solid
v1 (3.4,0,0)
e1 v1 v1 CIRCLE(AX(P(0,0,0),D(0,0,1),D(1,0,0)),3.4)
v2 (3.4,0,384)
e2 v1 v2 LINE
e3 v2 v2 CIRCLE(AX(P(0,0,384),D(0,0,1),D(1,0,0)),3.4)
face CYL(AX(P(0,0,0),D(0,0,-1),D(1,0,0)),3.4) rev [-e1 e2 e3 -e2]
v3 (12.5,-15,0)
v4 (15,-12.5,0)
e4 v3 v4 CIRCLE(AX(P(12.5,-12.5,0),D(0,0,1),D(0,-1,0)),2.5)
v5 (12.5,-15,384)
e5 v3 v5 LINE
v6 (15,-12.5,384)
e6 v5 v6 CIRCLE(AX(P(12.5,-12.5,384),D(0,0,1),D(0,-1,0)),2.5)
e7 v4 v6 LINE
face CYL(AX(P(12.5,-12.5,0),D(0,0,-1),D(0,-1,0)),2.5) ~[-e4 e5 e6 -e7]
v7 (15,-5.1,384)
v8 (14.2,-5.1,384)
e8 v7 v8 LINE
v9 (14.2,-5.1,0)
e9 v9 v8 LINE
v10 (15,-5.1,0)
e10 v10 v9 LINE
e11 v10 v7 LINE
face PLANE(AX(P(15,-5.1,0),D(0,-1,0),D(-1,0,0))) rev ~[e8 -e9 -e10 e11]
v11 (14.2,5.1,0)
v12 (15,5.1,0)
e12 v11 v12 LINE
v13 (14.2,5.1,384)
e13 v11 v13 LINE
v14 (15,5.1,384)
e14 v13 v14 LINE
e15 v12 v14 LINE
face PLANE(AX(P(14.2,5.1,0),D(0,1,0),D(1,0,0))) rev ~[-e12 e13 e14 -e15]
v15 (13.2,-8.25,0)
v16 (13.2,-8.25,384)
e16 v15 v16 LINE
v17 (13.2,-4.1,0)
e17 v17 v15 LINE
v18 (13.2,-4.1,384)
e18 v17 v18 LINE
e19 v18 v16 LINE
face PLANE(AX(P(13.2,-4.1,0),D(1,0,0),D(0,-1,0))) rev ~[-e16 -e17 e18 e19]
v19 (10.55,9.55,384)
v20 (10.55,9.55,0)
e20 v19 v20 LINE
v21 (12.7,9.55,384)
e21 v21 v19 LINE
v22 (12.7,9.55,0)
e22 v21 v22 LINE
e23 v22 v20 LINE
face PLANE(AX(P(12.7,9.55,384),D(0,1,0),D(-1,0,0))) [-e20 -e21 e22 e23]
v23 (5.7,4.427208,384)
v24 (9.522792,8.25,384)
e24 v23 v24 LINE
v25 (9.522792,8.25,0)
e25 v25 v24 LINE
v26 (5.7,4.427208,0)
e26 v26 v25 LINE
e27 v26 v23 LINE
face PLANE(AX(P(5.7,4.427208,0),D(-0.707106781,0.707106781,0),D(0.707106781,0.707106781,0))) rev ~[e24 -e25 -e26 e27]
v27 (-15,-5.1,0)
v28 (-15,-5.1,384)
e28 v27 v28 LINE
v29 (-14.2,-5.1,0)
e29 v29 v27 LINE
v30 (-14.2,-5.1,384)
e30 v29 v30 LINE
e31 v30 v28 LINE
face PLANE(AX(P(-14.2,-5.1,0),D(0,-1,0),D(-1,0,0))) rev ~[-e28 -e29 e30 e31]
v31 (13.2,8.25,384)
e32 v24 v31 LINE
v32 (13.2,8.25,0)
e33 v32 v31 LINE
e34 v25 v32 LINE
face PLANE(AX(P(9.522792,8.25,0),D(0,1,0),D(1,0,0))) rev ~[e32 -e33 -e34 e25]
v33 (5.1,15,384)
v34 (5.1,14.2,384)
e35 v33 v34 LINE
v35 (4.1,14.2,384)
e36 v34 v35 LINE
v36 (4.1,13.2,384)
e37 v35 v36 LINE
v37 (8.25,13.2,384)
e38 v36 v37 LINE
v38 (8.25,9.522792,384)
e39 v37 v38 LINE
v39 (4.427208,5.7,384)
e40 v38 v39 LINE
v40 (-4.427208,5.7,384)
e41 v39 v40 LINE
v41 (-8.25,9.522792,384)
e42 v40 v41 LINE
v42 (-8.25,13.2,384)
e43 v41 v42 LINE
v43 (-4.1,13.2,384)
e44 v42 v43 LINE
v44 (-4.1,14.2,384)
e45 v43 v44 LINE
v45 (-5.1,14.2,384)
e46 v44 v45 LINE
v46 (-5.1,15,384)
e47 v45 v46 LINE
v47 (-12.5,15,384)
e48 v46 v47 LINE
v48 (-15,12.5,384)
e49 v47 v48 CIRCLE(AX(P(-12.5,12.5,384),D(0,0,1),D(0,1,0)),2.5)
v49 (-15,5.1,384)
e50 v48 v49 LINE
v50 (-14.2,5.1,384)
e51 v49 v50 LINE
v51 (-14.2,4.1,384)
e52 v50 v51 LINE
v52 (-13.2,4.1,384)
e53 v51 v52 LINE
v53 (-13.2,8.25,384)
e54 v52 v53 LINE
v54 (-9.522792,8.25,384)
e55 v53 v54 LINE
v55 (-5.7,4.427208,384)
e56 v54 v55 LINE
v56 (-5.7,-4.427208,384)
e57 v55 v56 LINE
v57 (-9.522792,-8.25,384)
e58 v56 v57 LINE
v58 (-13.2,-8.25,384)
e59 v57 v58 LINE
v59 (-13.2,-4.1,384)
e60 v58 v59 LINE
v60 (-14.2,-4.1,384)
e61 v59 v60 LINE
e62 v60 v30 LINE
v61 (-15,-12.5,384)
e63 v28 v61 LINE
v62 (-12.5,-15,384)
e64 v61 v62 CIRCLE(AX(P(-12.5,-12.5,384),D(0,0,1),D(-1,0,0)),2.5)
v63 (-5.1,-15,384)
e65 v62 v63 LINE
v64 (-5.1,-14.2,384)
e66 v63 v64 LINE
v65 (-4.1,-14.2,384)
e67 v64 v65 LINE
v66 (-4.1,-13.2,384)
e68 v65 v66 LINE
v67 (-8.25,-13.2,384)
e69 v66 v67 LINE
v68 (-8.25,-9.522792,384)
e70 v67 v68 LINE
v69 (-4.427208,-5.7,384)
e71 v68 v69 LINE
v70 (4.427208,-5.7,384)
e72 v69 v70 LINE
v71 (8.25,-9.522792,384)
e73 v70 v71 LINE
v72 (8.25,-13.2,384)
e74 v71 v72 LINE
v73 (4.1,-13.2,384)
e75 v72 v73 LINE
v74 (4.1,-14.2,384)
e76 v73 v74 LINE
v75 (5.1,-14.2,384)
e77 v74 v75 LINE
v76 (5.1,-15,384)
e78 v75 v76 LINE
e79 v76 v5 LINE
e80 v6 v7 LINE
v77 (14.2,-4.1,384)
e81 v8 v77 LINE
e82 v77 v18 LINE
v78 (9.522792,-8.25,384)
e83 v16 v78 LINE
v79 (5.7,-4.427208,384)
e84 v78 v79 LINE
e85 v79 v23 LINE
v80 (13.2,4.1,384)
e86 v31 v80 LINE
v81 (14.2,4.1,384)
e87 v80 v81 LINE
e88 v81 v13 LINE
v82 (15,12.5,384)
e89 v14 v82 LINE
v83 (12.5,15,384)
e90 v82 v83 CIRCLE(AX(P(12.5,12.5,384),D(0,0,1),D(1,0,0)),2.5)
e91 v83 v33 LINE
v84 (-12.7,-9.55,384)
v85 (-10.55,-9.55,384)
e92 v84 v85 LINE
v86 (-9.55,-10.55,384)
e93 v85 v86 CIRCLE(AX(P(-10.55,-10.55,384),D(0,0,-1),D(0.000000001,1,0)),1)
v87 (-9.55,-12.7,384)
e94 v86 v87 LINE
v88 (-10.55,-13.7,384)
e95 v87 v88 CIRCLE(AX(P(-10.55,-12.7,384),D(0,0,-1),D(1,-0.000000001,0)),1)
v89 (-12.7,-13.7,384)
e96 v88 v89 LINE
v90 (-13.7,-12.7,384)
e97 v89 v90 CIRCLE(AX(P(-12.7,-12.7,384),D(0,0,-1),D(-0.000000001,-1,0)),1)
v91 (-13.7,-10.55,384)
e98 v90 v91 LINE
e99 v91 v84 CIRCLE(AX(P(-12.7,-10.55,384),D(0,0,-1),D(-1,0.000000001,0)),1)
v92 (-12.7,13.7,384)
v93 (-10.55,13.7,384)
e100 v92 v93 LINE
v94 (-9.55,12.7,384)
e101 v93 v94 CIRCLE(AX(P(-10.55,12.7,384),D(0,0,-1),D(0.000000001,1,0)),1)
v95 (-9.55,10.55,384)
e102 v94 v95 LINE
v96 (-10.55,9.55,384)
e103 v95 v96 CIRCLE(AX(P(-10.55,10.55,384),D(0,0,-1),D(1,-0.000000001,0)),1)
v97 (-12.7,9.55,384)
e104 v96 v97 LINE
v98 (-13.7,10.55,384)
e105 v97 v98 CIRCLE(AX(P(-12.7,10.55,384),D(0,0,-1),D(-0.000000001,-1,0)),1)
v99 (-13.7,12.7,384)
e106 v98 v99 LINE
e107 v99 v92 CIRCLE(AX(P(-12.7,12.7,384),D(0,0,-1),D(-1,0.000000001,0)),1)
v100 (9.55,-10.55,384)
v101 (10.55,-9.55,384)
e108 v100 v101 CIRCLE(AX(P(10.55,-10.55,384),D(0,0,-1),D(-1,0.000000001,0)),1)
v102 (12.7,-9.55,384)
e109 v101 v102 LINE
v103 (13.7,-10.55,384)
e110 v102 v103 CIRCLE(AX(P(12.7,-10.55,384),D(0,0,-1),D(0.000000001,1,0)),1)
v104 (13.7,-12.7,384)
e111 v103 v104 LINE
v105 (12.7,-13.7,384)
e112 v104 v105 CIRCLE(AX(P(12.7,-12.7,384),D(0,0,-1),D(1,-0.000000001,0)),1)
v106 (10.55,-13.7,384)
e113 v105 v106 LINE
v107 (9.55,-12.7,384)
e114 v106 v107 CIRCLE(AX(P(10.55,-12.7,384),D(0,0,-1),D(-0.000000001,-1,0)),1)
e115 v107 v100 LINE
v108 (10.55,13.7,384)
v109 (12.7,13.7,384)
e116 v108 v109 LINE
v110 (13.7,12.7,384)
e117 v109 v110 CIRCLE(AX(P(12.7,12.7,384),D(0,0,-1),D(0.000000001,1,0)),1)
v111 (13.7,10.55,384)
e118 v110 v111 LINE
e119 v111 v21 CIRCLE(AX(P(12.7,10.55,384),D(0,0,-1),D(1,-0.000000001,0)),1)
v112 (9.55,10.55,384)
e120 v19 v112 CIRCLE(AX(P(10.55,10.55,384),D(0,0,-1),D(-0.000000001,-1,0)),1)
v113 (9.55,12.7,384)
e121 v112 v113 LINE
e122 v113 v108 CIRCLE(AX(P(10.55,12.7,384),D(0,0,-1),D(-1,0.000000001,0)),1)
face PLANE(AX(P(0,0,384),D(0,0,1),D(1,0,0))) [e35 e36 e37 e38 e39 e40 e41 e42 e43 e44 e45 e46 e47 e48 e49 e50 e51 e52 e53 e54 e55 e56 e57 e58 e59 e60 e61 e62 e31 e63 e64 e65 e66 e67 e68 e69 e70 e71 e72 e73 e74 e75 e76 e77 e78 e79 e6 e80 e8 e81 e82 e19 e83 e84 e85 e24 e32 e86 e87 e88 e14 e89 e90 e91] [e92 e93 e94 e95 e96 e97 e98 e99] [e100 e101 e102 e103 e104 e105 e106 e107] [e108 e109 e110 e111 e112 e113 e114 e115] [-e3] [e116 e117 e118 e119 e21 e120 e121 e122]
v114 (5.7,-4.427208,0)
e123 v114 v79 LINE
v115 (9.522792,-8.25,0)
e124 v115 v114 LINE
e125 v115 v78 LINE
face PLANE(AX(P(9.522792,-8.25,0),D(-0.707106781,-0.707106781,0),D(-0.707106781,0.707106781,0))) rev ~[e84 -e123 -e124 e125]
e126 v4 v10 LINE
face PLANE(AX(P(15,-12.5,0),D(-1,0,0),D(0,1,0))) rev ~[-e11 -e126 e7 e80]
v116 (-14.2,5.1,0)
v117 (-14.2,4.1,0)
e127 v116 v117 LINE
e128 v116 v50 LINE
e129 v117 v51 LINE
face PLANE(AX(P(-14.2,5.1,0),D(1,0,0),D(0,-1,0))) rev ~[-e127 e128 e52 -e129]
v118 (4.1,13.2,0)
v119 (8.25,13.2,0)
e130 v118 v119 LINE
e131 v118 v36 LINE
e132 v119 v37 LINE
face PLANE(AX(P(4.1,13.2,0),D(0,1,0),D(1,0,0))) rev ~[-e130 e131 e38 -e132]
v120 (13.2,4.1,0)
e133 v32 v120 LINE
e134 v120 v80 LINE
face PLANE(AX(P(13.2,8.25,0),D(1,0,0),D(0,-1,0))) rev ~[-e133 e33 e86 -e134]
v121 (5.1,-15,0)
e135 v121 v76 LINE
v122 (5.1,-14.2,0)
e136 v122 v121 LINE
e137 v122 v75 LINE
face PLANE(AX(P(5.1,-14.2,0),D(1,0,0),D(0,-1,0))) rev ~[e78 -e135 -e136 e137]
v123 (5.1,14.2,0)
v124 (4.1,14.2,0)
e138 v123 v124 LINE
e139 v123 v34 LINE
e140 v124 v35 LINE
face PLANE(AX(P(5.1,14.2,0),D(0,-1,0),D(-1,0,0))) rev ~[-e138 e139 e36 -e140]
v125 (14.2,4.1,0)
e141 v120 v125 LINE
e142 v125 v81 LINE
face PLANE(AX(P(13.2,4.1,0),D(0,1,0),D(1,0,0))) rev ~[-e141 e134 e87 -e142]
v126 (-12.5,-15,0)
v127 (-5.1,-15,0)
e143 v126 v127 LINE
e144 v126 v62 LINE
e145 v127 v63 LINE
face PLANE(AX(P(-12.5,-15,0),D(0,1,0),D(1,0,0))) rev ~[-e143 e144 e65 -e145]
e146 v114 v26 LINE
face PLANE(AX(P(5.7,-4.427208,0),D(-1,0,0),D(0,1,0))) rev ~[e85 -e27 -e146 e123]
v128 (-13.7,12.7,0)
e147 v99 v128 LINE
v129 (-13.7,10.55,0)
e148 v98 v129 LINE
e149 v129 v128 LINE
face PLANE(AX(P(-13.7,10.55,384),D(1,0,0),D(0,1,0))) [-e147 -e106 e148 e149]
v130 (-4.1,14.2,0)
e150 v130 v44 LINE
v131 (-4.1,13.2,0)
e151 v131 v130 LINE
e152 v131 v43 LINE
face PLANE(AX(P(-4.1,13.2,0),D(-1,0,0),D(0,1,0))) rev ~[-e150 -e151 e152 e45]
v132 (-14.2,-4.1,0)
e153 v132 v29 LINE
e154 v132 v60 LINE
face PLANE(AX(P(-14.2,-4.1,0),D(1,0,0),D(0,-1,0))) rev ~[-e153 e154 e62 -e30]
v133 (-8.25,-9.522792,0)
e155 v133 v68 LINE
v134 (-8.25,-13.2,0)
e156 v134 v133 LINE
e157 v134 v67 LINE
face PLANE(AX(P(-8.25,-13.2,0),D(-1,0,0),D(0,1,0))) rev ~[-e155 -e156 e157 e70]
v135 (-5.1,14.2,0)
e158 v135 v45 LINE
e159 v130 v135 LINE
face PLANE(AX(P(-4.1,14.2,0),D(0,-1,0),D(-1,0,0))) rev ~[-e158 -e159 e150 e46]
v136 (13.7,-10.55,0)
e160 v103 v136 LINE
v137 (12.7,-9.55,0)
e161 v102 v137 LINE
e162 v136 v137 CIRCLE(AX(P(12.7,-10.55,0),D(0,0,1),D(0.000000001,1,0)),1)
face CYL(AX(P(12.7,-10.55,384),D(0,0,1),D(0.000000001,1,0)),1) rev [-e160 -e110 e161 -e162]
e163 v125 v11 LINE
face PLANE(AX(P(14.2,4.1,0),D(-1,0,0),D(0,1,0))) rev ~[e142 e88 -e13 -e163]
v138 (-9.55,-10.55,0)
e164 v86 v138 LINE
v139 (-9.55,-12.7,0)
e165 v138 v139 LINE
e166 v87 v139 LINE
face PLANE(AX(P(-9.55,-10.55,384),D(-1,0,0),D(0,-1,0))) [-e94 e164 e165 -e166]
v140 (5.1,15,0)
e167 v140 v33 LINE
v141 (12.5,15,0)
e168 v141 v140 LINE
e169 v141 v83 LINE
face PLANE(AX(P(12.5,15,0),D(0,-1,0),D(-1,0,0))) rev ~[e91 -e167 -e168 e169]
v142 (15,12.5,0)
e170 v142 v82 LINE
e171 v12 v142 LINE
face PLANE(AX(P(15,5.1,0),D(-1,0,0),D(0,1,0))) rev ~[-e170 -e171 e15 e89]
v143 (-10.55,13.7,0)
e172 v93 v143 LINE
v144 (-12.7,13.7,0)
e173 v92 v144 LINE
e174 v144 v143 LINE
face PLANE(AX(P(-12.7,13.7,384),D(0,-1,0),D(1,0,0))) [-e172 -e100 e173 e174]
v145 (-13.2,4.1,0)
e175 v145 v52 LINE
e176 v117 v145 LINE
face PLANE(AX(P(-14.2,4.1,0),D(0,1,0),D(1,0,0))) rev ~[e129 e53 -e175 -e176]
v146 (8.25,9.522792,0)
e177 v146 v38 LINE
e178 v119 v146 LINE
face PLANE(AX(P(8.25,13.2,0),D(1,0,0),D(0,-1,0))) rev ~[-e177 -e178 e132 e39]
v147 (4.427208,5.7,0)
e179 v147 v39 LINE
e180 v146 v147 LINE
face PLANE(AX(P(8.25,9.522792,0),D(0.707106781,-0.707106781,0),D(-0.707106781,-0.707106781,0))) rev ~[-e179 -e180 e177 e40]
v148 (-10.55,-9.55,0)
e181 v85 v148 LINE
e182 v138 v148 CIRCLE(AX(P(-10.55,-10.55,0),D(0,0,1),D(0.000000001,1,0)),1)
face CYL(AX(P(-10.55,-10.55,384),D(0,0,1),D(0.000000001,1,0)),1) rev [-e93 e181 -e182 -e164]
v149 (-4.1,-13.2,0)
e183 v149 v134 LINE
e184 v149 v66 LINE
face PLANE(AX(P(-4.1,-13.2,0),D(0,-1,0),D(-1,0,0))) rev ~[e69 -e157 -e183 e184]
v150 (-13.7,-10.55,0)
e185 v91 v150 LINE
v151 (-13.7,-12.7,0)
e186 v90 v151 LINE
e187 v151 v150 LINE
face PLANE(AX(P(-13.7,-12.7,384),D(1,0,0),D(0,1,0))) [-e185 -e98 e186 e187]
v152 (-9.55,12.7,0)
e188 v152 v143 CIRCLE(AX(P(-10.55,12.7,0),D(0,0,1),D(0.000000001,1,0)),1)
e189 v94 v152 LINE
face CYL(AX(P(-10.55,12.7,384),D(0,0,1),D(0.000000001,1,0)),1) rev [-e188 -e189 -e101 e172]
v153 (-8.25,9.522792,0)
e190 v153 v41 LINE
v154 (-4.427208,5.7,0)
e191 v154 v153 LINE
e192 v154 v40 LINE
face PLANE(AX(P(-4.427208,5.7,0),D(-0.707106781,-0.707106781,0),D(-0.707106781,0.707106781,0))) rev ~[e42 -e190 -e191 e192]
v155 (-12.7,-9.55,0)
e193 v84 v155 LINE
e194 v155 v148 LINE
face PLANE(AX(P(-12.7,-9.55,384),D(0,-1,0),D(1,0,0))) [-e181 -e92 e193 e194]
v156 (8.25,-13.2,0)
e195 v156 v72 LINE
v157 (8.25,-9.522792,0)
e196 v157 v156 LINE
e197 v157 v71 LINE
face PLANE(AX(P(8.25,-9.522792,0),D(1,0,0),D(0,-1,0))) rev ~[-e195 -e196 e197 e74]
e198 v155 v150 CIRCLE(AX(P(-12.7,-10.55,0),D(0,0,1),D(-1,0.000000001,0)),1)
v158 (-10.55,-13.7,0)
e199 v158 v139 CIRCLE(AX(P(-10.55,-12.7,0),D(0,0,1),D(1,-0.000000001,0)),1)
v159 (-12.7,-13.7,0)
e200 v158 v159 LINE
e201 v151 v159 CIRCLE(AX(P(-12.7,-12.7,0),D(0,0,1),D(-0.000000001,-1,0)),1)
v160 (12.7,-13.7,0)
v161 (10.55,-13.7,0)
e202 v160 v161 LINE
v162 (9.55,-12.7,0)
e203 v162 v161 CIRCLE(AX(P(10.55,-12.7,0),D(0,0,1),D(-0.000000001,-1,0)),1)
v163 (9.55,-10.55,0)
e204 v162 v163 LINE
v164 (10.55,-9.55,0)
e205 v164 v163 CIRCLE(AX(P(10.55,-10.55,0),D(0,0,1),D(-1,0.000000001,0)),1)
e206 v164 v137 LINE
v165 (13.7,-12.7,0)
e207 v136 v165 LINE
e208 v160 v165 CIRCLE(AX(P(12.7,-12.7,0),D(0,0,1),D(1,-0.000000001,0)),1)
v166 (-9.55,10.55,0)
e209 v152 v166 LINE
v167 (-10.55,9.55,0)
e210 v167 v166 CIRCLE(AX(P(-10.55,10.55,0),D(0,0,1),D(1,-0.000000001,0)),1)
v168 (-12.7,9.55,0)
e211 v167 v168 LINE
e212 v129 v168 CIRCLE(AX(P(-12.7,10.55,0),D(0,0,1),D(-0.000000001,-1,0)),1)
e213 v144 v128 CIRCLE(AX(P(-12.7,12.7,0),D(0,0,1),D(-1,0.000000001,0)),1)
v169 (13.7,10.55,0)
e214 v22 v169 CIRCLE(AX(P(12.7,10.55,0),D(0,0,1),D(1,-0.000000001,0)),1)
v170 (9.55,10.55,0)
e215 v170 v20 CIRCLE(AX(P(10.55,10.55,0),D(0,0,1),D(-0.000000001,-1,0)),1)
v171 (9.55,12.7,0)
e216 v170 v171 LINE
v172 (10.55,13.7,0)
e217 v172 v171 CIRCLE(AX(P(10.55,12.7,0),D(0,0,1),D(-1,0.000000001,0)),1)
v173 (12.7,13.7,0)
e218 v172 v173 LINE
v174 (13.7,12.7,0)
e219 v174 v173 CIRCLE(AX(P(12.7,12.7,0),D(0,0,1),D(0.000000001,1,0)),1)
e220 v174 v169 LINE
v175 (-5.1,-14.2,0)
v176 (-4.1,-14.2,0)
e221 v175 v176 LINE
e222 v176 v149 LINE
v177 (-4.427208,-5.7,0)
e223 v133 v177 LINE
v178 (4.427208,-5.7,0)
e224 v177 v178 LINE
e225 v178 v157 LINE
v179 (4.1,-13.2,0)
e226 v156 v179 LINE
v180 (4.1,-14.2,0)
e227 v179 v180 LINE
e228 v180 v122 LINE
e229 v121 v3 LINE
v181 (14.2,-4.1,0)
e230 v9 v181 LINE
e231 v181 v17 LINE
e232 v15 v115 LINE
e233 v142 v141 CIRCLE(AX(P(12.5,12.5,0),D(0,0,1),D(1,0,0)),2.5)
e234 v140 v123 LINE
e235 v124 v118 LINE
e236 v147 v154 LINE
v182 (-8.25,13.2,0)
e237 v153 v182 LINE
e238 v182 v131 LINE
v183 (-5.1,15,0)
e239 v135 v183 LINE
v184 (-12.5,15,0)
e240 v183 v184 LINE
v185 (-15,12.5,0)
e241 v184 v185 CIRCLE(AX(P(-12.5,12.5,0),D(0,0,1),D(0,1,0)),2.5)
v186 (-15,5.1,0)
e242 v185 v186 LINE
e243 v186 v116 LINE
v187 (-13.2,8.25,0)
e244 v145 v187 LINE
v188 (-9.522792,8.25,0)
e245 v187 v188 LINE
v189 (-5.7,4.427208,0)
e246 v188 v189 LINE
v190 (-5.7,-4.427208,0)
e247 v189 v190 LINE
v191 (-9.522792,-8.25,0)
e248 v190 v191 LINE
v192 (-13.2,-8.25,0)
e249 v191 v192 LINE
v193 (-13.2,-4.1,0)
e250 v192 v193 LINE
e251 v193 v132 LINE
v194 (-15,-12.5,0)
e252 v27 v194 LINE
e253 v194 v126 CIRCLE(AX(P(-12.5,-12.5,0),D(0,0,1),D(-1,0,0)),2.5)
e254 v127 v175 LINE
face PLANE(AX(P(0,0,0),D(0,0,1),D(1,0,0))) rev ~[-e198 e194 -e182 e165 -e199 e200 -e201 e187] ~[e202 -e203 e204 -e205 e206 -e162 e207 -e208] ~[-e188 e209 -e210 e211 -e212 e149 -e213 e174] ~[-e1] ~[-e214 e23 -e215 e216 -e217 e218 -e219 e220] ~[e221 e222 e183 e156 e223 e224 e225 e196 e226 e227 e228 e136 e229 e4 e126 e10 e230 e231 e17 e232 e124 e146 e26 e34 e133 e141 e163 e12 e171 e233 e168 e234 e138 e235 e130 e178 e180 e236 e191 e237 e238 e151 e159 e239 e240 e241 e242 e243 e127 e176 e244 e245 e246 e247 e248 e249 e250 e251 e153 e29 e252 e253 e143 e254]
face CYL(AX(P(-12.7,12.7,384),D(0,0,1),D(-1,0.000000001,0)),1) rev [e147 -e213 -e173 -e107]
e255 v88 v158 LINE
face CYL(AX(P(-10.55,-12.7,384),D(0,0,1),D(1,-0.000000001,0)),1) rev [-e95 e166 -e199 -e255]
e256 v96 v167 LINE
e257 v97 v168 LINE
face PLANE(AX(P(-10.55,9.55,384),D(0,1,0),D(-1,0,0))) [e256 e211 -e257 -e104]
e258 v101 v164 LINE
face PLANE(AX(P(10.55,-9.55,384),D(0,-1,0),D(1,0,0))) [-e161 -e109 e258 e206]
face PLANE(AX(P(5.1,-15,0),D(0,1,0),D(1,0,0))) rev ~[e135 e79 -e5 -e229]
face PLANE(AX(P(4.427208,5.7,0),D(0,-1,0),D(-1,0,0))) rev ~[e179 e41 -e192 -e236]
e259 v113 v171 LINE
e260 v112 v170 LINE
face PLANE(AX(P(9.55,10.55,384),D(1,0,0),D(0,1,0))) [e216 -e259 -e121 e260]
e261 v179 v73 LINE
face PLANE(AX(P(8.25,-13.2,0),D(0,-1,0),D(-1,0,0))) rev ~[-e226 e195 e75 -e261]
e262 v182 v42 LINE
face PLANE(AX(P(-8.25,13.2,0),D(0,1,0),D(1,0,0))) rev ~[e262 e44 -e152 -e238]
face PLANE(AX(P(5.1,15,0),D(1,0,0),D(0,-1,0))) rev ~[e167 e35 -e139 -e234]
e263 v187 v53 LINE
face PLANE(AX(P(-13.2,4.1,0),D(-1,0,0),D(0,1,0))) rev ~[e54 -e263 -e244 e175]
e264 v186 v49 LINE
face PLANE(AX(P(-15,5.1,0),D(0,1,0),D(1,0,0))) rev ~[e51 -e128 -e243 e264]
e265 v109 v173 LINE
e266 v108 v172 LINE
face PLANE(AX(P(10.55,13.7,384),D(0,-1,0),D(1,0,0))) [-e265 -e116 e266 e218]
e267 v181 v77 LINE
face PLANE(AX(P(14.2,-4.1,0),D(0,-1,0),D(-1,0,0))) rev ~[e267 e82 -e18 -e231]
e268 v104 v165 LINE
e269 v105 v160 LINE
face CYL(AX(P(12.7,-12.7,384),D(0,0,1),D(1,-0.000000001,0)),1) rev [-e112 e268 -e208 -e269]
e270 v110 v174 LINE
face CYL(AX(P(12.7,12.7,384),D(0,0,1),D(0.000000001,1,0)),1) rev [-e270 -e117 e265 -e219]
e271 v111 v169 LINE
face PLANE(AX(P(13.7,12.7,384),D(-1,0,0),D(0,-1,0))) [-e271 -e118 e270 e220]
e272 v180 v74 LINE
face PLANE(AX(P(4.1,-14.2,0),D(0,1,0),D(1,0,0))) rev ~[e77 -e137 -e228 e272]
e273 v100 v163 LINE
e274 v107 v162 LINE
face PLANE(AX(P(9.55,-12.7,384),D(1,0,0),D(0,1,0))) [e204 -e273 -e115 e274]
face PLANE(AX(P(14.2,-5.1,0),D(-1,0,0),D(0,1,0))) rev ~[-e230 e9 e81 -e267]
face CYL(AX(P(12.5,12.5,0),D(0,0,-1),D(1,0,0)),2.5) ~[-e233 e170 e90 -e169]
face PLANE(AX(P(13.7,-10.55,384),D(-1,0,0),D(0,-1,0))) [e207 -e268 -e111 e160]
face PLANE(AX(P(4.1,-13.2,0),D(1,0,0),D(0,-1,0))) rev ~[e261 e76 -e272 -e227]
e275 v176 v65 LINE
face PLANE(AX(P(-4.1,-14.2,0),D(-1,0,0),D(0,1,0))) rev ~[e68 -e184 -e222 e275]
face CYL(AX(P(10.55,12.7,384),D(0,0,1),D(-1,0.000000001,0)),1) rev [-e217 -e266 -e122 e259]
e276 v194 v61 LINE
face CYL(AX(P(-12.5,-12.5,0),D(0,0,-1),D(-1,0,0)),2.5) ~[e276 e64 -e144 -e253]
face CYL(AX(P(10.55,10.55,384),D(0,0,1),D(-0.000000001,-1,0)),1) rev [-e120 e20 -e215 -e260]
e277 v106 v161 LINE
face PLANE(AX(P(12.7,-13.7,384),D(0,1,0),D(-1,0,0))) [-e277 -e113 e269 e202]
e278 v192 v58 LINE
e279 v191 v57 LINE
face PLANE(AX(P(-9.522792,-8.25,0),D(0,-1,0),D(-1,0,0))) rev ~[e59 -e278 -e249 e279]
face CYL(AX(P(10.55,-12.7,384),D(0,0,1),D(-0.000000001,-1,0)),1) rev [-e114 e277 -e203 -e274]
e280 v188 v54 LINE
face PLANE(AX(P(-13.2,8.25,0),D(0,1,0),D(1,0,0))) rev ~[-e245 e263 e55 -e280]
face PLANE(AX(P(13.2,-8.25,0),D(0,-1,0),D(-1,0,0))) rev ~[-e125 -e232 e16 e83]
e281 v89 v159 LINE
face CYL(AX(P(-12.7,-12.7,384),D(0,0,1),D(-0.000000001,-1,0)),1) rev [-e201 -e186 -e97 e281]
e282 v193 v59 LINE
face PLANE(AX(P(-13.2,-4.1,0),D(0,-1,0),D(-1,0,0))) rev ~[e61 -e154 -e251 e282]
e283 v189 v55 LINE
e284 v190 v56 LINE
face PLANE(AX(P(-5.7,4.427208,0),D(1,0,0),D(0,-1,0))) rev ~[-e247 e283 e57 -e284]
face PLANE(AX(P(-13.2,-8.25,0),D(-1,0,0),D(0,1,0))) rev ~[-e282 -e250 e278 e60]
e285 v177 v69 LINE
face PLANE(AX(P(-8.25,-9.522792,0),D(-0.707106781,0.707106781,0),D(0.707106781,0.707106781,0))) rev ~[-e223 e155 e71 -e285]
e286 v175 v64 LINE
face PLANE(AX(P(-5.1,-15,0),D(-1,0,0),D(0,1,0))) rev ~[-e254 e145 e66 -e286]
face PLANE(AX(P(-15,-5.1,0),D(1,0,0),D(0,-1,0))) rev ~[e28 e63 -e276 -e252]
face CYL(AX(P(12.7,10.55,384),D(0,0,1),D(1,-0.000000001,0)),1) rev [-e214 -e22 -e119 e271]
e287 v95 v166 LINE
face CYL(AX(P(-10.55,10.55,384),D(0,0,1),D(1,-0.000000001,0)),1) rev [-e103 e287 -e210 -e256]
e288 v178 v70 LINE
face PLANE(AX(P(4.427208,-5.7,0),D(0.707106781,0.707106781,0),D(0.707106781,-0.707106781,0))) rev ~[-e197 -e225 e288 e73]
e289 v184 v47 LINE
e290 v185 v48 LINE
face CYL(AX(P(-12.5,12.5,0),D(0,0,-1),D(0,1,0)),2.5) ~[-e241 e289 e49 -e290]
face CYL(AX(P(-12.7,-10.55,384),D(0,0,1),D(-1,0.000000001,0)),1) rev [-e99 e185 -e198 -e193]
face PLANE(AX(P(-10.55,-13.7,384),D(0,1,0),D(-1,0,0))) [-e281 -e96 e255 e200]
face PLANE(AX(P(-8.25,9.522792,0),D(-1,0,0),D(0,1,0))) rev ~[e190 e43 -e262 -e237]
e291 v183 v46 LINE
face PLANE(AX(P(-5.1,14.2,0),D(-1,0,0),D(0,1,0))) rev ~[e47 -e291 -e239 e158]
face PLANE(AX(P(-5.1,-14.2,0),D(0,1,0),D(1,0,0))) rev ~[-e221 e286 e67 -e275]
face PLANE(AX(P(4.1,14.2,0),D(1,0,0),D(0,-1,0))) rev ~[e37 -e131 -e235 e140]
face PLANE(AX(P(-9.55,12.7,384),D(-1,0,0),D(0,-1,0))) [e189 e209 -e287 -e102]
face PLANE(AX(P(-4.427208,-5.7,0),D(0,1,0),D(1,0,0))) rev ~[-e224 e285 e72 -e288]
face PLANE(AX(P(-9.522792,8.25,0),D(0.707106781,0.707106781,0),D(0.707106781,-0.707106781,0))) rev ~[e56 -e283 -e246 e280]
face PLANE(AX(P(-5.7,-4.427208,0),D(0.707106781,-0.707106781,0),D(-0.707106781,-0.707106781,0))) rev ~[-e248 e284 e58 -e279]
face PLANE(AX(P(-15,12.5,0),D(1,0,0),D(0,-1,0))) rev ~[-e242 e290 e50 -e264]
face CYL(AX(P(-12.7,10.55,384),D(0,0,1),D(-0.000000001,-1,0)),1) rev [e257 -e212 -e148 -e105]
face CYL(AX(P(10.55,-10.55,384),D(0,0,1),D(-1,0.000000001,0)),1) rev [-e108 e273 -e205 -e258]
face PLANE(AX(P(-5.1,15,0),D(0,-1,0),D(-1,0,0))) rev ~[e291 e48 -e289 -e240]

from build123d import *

# Parameters (mm, degrees)
SKETCH1_R      = 3.4
EXTRUDE1_DEPTH = 384
EXTRUDE2_DEPTH = 385.585491146


with BuildPart() as part:
    # Sketch1 → Extrude1 (new body)
    with BuildSketch(Plane.XY):
        with BuildLine():
            Line((-5.1, 14.2), (-5.1, 15))
            Line((-5.1, 15), (-12.5, 15))
            ThreePointArc((-12.5, 15), (-14.267766953, 14.267766953), (-15, 12.5))
            Line((-15, 12.5), (-15, 5.1))
            Line((-15, 5.1), (-14.2, 5.1))
            Line((-14.2, 5.1), (-14.2, 4.1))
            Line((-14.2, 4.1), (-13.2, 4.1))
            Line((-13.2, 4.1), (-13.2, 8.25))
            Line((-13.2, 8.25), (-9.522792206, 8.25))
            Line((-9.522792206, 8.25), (-5.7, 4.427207794))
            Line((-5.7, 4.427207794), (-5.7, -4.427207794))
            Line((-5.7, -4.427207794), (-9.522792206, -8.25))
            Line((-9.522792206, -8.25), (-13.2, -8.25))
            Line((-13.2, -8.25), (-13.2, -4.1))
            Line((-13.2, -4.1), (-14.2, -4.1))
            Line((-14.2, -4.1), (-14.2, -5.1))
            Line((-14.2, -5.1), (-15, -5.1))
            Line((-15, -5.1), (-15, -12.5))
            ThreePointArc((-15, -12.5), (-14.267766953, -14.267766953), (-12.5, -15))
            Line((-12.5, -15), (-5.1, -15))
            Line((-5.1, -15), (-5.1, -14.2))
            Line((-5.1, -14.2), (-4.1, -14.2))
            Line((-4.1, -14.2), (-4.1, -13.2))
            Line((-4.1, -13.2), (-8.25, -13.2))
            Line((-8.25, -13.2), (-8.25, -9.522792206))
            Line((-8.25, -9.522792206), (-4.427207794, -5.7))
            Line((-4.427207794, -5.7), (4.427207794, -5.7))
            Line((4.427207794, -5.7), (8.25, -9.522792206))
            Line((8.25, -9.522792206), (8.25, -13.2))
            Line((8.25, -13.2), (4.1, -13.2))
            Line((4.1, -13.2), (4.1, -14.2))
            Line((4.1, -14.2), (5.1, -14.2))
            Line((5.1, -14.2), (5.1, -15))
            Line((5.1, -15), (12.5, -15))
            ThreePointArc((12.5, -15), (14.267766953, -14.267766953), (15, -12.5))
            Line((15, -12.5), (15, -5.1))
            Line((15, -5.1), (14.2, -5.1))
            Line((14.2, -5.1), (14.2, -4.1))
            Line((14.2, -4.1), (13.2, -4.1))
            Line((13.2, -4.1), (13.2, -8.25))
            Line((13.2, -8.25), (9.522792206, -8.25))
            Line((9.522792206, -8.25), (5.7, -4.427207794))
            Line((5.7, -4.427207794), (5.7, 4.427207794))
            Line((5.7, 4.427207794), (9.522792206, 8.25))
            Line((9.522792206, 8.25), (13.2, 8.25))
            Line((13.2, 8.25), (13.2, 4.1))
            Line((13.2, 4.1), (14.2, 4.1))
            Line((14.2, 4.1), (14.2, 5.1))
            Line((14.2, 5.1), (15, 5.1))
            Line((15, 5.1), (15, 12.5))
            ThreePointArc((15, 12.5), (14.267766953, 14.267766953), (12.5, 15))
            Line((12.5, 15), (5.1, 15))
            Line((5.1, 15), (5.1, 14.2))
            Line((5.1, 14.2), (4.1, 14.2))
            Line((4.1, 14.2), (4.1, 13.2))
            Line((4.1, 13.2), (8.25, 13.2))
            Line((8.25, 13.2), (8.25, 9.522792206))
            Line((8.25, 9.522792206), (4.427207794, 5.7))
            Line((4.427207794, 5.7), (-4.427207794, 5.7))
            Line((-4.427207794, 5.7), (-8.25, 9.522792206))
            Line((-8.25, 9.522792206), (-8.25, 13.2))
            Line((-8.25, 13.2), (-4.1, 13.2))
            Line((-4.1, 13.2), (-4.1, 14.2))
            Line((-4.1, 14.2), (-5.1, 14.2))
        make_face()
        Circle(SKETCH1_R, mode=Mode.SUBTRACT)
    extrude(amount=EXTRUDE1_DEPTH)

    # Sketch2 → Extrude2 (cut, through all)
    with BuildSketch(Plane.XY.offset(384)):
        with BuildLine():
            Line((13.7, 12.7), (13.7, 10.55))
            ThreePointArc((13.7, 10.55), (13.407106781, 9.842893219), (12.7, 9.55))
            Line((12.7, 9.55), (10.55, 9.55))
            ThreePointArc((10.55, 9.55), (9.842893219, 9.842893219), (9.55, 10.55))
            Line((9.55, 10.55), (9.55, 12.7))
            ThreePointArc((9.55, 12.7), (9.842893219, 13.407106781), (10.55, 13.7))
            Line((10.55, 13.7), (12.7, 13.7))
            ThreePointArc((12.7, 13.7), (13.407106781, 13.407106781), (13.7, 12.7))
        make_face()
        with BuildLine():
            Line((-12.7, 13.7), (-10.55, 13.7))
            ThreePointArc((-10.55, 13.7), (-9.842893219, 13.407106781), (-9.55, 12.7))
            Line((-9.55, 12.7), (-9.55, 10.55))
            ThreePointArc((-9.55, 10.55), (-9.842893219, 9.842893219), (-10.55, 9.55))
            Line((-10.55, 9.55), (-12.7, 9.55))
            ThreePointArc((-12.7, 9.55), (-13.407106781, 9.842893219), (-13.7, 10.55))
            Line((-13.7, 10.55), (-13.7, 12.7))
            ThreePointArc((-13.7, 12.7), (-13.407106781, 13.407106781), (-12.7, 13.7))
        make_face()
        with BuildLine():
            Line((12.7, -13.7), (10.55, -13.7))
            ThreePointArc((10.55, -13.7), (9.842893219, -13.407106781), (9.55, -12.7))
            Line((9.55, -12.7), (9.55, -10.55))
            ThreePointArc((9.55, -10.55), (9.842893219, -9.842893219), (10.55, -9.55))
            Line((10.55, -9.55), (12.7, -9.55))
            ThreePointArc((12.7, -9.55), (13.407106781, -9.842893219), (13.7, -10.55))
            Line((13.7, -10.55), (13.7, -12.7))
            ThreePointArc((13.7, -12.7), (13.407106781, -13.407106781), (12.7, -13.7))
        make_face()
        with BuildLine():
            Line((-13.7, -12.7), (-13.7, -10.55))
            ThreePointArc((-13.7, -10.55), (-13.407106781, -9.842893219), (-12.7, -9.55))
            Line((-12.7, -9.55), (-10.55, -9.55))
            ThreePointArc((-10.55, -9.55), (-9.842893219, -9.842893219), (-9.55, -10.55))
            Line((-9.55, -10.55), (-9.55, -12.7))
            ThreePointArc((-9.55, -12.7), (-9.842893219, -13.407106781), (-10.55, -13.7))
            Line((-10.55, -13.7), (-12.7, -13.7))
            ThreePointArc((-12.7, -13.7), (-13.407106781, -13.407106781), (-13.7, -12.7))
        make_face()
    extrude(amount=-EXTRUDE2_DEPTH, mode=Mode.SUBTRACT)


solid = part.part
